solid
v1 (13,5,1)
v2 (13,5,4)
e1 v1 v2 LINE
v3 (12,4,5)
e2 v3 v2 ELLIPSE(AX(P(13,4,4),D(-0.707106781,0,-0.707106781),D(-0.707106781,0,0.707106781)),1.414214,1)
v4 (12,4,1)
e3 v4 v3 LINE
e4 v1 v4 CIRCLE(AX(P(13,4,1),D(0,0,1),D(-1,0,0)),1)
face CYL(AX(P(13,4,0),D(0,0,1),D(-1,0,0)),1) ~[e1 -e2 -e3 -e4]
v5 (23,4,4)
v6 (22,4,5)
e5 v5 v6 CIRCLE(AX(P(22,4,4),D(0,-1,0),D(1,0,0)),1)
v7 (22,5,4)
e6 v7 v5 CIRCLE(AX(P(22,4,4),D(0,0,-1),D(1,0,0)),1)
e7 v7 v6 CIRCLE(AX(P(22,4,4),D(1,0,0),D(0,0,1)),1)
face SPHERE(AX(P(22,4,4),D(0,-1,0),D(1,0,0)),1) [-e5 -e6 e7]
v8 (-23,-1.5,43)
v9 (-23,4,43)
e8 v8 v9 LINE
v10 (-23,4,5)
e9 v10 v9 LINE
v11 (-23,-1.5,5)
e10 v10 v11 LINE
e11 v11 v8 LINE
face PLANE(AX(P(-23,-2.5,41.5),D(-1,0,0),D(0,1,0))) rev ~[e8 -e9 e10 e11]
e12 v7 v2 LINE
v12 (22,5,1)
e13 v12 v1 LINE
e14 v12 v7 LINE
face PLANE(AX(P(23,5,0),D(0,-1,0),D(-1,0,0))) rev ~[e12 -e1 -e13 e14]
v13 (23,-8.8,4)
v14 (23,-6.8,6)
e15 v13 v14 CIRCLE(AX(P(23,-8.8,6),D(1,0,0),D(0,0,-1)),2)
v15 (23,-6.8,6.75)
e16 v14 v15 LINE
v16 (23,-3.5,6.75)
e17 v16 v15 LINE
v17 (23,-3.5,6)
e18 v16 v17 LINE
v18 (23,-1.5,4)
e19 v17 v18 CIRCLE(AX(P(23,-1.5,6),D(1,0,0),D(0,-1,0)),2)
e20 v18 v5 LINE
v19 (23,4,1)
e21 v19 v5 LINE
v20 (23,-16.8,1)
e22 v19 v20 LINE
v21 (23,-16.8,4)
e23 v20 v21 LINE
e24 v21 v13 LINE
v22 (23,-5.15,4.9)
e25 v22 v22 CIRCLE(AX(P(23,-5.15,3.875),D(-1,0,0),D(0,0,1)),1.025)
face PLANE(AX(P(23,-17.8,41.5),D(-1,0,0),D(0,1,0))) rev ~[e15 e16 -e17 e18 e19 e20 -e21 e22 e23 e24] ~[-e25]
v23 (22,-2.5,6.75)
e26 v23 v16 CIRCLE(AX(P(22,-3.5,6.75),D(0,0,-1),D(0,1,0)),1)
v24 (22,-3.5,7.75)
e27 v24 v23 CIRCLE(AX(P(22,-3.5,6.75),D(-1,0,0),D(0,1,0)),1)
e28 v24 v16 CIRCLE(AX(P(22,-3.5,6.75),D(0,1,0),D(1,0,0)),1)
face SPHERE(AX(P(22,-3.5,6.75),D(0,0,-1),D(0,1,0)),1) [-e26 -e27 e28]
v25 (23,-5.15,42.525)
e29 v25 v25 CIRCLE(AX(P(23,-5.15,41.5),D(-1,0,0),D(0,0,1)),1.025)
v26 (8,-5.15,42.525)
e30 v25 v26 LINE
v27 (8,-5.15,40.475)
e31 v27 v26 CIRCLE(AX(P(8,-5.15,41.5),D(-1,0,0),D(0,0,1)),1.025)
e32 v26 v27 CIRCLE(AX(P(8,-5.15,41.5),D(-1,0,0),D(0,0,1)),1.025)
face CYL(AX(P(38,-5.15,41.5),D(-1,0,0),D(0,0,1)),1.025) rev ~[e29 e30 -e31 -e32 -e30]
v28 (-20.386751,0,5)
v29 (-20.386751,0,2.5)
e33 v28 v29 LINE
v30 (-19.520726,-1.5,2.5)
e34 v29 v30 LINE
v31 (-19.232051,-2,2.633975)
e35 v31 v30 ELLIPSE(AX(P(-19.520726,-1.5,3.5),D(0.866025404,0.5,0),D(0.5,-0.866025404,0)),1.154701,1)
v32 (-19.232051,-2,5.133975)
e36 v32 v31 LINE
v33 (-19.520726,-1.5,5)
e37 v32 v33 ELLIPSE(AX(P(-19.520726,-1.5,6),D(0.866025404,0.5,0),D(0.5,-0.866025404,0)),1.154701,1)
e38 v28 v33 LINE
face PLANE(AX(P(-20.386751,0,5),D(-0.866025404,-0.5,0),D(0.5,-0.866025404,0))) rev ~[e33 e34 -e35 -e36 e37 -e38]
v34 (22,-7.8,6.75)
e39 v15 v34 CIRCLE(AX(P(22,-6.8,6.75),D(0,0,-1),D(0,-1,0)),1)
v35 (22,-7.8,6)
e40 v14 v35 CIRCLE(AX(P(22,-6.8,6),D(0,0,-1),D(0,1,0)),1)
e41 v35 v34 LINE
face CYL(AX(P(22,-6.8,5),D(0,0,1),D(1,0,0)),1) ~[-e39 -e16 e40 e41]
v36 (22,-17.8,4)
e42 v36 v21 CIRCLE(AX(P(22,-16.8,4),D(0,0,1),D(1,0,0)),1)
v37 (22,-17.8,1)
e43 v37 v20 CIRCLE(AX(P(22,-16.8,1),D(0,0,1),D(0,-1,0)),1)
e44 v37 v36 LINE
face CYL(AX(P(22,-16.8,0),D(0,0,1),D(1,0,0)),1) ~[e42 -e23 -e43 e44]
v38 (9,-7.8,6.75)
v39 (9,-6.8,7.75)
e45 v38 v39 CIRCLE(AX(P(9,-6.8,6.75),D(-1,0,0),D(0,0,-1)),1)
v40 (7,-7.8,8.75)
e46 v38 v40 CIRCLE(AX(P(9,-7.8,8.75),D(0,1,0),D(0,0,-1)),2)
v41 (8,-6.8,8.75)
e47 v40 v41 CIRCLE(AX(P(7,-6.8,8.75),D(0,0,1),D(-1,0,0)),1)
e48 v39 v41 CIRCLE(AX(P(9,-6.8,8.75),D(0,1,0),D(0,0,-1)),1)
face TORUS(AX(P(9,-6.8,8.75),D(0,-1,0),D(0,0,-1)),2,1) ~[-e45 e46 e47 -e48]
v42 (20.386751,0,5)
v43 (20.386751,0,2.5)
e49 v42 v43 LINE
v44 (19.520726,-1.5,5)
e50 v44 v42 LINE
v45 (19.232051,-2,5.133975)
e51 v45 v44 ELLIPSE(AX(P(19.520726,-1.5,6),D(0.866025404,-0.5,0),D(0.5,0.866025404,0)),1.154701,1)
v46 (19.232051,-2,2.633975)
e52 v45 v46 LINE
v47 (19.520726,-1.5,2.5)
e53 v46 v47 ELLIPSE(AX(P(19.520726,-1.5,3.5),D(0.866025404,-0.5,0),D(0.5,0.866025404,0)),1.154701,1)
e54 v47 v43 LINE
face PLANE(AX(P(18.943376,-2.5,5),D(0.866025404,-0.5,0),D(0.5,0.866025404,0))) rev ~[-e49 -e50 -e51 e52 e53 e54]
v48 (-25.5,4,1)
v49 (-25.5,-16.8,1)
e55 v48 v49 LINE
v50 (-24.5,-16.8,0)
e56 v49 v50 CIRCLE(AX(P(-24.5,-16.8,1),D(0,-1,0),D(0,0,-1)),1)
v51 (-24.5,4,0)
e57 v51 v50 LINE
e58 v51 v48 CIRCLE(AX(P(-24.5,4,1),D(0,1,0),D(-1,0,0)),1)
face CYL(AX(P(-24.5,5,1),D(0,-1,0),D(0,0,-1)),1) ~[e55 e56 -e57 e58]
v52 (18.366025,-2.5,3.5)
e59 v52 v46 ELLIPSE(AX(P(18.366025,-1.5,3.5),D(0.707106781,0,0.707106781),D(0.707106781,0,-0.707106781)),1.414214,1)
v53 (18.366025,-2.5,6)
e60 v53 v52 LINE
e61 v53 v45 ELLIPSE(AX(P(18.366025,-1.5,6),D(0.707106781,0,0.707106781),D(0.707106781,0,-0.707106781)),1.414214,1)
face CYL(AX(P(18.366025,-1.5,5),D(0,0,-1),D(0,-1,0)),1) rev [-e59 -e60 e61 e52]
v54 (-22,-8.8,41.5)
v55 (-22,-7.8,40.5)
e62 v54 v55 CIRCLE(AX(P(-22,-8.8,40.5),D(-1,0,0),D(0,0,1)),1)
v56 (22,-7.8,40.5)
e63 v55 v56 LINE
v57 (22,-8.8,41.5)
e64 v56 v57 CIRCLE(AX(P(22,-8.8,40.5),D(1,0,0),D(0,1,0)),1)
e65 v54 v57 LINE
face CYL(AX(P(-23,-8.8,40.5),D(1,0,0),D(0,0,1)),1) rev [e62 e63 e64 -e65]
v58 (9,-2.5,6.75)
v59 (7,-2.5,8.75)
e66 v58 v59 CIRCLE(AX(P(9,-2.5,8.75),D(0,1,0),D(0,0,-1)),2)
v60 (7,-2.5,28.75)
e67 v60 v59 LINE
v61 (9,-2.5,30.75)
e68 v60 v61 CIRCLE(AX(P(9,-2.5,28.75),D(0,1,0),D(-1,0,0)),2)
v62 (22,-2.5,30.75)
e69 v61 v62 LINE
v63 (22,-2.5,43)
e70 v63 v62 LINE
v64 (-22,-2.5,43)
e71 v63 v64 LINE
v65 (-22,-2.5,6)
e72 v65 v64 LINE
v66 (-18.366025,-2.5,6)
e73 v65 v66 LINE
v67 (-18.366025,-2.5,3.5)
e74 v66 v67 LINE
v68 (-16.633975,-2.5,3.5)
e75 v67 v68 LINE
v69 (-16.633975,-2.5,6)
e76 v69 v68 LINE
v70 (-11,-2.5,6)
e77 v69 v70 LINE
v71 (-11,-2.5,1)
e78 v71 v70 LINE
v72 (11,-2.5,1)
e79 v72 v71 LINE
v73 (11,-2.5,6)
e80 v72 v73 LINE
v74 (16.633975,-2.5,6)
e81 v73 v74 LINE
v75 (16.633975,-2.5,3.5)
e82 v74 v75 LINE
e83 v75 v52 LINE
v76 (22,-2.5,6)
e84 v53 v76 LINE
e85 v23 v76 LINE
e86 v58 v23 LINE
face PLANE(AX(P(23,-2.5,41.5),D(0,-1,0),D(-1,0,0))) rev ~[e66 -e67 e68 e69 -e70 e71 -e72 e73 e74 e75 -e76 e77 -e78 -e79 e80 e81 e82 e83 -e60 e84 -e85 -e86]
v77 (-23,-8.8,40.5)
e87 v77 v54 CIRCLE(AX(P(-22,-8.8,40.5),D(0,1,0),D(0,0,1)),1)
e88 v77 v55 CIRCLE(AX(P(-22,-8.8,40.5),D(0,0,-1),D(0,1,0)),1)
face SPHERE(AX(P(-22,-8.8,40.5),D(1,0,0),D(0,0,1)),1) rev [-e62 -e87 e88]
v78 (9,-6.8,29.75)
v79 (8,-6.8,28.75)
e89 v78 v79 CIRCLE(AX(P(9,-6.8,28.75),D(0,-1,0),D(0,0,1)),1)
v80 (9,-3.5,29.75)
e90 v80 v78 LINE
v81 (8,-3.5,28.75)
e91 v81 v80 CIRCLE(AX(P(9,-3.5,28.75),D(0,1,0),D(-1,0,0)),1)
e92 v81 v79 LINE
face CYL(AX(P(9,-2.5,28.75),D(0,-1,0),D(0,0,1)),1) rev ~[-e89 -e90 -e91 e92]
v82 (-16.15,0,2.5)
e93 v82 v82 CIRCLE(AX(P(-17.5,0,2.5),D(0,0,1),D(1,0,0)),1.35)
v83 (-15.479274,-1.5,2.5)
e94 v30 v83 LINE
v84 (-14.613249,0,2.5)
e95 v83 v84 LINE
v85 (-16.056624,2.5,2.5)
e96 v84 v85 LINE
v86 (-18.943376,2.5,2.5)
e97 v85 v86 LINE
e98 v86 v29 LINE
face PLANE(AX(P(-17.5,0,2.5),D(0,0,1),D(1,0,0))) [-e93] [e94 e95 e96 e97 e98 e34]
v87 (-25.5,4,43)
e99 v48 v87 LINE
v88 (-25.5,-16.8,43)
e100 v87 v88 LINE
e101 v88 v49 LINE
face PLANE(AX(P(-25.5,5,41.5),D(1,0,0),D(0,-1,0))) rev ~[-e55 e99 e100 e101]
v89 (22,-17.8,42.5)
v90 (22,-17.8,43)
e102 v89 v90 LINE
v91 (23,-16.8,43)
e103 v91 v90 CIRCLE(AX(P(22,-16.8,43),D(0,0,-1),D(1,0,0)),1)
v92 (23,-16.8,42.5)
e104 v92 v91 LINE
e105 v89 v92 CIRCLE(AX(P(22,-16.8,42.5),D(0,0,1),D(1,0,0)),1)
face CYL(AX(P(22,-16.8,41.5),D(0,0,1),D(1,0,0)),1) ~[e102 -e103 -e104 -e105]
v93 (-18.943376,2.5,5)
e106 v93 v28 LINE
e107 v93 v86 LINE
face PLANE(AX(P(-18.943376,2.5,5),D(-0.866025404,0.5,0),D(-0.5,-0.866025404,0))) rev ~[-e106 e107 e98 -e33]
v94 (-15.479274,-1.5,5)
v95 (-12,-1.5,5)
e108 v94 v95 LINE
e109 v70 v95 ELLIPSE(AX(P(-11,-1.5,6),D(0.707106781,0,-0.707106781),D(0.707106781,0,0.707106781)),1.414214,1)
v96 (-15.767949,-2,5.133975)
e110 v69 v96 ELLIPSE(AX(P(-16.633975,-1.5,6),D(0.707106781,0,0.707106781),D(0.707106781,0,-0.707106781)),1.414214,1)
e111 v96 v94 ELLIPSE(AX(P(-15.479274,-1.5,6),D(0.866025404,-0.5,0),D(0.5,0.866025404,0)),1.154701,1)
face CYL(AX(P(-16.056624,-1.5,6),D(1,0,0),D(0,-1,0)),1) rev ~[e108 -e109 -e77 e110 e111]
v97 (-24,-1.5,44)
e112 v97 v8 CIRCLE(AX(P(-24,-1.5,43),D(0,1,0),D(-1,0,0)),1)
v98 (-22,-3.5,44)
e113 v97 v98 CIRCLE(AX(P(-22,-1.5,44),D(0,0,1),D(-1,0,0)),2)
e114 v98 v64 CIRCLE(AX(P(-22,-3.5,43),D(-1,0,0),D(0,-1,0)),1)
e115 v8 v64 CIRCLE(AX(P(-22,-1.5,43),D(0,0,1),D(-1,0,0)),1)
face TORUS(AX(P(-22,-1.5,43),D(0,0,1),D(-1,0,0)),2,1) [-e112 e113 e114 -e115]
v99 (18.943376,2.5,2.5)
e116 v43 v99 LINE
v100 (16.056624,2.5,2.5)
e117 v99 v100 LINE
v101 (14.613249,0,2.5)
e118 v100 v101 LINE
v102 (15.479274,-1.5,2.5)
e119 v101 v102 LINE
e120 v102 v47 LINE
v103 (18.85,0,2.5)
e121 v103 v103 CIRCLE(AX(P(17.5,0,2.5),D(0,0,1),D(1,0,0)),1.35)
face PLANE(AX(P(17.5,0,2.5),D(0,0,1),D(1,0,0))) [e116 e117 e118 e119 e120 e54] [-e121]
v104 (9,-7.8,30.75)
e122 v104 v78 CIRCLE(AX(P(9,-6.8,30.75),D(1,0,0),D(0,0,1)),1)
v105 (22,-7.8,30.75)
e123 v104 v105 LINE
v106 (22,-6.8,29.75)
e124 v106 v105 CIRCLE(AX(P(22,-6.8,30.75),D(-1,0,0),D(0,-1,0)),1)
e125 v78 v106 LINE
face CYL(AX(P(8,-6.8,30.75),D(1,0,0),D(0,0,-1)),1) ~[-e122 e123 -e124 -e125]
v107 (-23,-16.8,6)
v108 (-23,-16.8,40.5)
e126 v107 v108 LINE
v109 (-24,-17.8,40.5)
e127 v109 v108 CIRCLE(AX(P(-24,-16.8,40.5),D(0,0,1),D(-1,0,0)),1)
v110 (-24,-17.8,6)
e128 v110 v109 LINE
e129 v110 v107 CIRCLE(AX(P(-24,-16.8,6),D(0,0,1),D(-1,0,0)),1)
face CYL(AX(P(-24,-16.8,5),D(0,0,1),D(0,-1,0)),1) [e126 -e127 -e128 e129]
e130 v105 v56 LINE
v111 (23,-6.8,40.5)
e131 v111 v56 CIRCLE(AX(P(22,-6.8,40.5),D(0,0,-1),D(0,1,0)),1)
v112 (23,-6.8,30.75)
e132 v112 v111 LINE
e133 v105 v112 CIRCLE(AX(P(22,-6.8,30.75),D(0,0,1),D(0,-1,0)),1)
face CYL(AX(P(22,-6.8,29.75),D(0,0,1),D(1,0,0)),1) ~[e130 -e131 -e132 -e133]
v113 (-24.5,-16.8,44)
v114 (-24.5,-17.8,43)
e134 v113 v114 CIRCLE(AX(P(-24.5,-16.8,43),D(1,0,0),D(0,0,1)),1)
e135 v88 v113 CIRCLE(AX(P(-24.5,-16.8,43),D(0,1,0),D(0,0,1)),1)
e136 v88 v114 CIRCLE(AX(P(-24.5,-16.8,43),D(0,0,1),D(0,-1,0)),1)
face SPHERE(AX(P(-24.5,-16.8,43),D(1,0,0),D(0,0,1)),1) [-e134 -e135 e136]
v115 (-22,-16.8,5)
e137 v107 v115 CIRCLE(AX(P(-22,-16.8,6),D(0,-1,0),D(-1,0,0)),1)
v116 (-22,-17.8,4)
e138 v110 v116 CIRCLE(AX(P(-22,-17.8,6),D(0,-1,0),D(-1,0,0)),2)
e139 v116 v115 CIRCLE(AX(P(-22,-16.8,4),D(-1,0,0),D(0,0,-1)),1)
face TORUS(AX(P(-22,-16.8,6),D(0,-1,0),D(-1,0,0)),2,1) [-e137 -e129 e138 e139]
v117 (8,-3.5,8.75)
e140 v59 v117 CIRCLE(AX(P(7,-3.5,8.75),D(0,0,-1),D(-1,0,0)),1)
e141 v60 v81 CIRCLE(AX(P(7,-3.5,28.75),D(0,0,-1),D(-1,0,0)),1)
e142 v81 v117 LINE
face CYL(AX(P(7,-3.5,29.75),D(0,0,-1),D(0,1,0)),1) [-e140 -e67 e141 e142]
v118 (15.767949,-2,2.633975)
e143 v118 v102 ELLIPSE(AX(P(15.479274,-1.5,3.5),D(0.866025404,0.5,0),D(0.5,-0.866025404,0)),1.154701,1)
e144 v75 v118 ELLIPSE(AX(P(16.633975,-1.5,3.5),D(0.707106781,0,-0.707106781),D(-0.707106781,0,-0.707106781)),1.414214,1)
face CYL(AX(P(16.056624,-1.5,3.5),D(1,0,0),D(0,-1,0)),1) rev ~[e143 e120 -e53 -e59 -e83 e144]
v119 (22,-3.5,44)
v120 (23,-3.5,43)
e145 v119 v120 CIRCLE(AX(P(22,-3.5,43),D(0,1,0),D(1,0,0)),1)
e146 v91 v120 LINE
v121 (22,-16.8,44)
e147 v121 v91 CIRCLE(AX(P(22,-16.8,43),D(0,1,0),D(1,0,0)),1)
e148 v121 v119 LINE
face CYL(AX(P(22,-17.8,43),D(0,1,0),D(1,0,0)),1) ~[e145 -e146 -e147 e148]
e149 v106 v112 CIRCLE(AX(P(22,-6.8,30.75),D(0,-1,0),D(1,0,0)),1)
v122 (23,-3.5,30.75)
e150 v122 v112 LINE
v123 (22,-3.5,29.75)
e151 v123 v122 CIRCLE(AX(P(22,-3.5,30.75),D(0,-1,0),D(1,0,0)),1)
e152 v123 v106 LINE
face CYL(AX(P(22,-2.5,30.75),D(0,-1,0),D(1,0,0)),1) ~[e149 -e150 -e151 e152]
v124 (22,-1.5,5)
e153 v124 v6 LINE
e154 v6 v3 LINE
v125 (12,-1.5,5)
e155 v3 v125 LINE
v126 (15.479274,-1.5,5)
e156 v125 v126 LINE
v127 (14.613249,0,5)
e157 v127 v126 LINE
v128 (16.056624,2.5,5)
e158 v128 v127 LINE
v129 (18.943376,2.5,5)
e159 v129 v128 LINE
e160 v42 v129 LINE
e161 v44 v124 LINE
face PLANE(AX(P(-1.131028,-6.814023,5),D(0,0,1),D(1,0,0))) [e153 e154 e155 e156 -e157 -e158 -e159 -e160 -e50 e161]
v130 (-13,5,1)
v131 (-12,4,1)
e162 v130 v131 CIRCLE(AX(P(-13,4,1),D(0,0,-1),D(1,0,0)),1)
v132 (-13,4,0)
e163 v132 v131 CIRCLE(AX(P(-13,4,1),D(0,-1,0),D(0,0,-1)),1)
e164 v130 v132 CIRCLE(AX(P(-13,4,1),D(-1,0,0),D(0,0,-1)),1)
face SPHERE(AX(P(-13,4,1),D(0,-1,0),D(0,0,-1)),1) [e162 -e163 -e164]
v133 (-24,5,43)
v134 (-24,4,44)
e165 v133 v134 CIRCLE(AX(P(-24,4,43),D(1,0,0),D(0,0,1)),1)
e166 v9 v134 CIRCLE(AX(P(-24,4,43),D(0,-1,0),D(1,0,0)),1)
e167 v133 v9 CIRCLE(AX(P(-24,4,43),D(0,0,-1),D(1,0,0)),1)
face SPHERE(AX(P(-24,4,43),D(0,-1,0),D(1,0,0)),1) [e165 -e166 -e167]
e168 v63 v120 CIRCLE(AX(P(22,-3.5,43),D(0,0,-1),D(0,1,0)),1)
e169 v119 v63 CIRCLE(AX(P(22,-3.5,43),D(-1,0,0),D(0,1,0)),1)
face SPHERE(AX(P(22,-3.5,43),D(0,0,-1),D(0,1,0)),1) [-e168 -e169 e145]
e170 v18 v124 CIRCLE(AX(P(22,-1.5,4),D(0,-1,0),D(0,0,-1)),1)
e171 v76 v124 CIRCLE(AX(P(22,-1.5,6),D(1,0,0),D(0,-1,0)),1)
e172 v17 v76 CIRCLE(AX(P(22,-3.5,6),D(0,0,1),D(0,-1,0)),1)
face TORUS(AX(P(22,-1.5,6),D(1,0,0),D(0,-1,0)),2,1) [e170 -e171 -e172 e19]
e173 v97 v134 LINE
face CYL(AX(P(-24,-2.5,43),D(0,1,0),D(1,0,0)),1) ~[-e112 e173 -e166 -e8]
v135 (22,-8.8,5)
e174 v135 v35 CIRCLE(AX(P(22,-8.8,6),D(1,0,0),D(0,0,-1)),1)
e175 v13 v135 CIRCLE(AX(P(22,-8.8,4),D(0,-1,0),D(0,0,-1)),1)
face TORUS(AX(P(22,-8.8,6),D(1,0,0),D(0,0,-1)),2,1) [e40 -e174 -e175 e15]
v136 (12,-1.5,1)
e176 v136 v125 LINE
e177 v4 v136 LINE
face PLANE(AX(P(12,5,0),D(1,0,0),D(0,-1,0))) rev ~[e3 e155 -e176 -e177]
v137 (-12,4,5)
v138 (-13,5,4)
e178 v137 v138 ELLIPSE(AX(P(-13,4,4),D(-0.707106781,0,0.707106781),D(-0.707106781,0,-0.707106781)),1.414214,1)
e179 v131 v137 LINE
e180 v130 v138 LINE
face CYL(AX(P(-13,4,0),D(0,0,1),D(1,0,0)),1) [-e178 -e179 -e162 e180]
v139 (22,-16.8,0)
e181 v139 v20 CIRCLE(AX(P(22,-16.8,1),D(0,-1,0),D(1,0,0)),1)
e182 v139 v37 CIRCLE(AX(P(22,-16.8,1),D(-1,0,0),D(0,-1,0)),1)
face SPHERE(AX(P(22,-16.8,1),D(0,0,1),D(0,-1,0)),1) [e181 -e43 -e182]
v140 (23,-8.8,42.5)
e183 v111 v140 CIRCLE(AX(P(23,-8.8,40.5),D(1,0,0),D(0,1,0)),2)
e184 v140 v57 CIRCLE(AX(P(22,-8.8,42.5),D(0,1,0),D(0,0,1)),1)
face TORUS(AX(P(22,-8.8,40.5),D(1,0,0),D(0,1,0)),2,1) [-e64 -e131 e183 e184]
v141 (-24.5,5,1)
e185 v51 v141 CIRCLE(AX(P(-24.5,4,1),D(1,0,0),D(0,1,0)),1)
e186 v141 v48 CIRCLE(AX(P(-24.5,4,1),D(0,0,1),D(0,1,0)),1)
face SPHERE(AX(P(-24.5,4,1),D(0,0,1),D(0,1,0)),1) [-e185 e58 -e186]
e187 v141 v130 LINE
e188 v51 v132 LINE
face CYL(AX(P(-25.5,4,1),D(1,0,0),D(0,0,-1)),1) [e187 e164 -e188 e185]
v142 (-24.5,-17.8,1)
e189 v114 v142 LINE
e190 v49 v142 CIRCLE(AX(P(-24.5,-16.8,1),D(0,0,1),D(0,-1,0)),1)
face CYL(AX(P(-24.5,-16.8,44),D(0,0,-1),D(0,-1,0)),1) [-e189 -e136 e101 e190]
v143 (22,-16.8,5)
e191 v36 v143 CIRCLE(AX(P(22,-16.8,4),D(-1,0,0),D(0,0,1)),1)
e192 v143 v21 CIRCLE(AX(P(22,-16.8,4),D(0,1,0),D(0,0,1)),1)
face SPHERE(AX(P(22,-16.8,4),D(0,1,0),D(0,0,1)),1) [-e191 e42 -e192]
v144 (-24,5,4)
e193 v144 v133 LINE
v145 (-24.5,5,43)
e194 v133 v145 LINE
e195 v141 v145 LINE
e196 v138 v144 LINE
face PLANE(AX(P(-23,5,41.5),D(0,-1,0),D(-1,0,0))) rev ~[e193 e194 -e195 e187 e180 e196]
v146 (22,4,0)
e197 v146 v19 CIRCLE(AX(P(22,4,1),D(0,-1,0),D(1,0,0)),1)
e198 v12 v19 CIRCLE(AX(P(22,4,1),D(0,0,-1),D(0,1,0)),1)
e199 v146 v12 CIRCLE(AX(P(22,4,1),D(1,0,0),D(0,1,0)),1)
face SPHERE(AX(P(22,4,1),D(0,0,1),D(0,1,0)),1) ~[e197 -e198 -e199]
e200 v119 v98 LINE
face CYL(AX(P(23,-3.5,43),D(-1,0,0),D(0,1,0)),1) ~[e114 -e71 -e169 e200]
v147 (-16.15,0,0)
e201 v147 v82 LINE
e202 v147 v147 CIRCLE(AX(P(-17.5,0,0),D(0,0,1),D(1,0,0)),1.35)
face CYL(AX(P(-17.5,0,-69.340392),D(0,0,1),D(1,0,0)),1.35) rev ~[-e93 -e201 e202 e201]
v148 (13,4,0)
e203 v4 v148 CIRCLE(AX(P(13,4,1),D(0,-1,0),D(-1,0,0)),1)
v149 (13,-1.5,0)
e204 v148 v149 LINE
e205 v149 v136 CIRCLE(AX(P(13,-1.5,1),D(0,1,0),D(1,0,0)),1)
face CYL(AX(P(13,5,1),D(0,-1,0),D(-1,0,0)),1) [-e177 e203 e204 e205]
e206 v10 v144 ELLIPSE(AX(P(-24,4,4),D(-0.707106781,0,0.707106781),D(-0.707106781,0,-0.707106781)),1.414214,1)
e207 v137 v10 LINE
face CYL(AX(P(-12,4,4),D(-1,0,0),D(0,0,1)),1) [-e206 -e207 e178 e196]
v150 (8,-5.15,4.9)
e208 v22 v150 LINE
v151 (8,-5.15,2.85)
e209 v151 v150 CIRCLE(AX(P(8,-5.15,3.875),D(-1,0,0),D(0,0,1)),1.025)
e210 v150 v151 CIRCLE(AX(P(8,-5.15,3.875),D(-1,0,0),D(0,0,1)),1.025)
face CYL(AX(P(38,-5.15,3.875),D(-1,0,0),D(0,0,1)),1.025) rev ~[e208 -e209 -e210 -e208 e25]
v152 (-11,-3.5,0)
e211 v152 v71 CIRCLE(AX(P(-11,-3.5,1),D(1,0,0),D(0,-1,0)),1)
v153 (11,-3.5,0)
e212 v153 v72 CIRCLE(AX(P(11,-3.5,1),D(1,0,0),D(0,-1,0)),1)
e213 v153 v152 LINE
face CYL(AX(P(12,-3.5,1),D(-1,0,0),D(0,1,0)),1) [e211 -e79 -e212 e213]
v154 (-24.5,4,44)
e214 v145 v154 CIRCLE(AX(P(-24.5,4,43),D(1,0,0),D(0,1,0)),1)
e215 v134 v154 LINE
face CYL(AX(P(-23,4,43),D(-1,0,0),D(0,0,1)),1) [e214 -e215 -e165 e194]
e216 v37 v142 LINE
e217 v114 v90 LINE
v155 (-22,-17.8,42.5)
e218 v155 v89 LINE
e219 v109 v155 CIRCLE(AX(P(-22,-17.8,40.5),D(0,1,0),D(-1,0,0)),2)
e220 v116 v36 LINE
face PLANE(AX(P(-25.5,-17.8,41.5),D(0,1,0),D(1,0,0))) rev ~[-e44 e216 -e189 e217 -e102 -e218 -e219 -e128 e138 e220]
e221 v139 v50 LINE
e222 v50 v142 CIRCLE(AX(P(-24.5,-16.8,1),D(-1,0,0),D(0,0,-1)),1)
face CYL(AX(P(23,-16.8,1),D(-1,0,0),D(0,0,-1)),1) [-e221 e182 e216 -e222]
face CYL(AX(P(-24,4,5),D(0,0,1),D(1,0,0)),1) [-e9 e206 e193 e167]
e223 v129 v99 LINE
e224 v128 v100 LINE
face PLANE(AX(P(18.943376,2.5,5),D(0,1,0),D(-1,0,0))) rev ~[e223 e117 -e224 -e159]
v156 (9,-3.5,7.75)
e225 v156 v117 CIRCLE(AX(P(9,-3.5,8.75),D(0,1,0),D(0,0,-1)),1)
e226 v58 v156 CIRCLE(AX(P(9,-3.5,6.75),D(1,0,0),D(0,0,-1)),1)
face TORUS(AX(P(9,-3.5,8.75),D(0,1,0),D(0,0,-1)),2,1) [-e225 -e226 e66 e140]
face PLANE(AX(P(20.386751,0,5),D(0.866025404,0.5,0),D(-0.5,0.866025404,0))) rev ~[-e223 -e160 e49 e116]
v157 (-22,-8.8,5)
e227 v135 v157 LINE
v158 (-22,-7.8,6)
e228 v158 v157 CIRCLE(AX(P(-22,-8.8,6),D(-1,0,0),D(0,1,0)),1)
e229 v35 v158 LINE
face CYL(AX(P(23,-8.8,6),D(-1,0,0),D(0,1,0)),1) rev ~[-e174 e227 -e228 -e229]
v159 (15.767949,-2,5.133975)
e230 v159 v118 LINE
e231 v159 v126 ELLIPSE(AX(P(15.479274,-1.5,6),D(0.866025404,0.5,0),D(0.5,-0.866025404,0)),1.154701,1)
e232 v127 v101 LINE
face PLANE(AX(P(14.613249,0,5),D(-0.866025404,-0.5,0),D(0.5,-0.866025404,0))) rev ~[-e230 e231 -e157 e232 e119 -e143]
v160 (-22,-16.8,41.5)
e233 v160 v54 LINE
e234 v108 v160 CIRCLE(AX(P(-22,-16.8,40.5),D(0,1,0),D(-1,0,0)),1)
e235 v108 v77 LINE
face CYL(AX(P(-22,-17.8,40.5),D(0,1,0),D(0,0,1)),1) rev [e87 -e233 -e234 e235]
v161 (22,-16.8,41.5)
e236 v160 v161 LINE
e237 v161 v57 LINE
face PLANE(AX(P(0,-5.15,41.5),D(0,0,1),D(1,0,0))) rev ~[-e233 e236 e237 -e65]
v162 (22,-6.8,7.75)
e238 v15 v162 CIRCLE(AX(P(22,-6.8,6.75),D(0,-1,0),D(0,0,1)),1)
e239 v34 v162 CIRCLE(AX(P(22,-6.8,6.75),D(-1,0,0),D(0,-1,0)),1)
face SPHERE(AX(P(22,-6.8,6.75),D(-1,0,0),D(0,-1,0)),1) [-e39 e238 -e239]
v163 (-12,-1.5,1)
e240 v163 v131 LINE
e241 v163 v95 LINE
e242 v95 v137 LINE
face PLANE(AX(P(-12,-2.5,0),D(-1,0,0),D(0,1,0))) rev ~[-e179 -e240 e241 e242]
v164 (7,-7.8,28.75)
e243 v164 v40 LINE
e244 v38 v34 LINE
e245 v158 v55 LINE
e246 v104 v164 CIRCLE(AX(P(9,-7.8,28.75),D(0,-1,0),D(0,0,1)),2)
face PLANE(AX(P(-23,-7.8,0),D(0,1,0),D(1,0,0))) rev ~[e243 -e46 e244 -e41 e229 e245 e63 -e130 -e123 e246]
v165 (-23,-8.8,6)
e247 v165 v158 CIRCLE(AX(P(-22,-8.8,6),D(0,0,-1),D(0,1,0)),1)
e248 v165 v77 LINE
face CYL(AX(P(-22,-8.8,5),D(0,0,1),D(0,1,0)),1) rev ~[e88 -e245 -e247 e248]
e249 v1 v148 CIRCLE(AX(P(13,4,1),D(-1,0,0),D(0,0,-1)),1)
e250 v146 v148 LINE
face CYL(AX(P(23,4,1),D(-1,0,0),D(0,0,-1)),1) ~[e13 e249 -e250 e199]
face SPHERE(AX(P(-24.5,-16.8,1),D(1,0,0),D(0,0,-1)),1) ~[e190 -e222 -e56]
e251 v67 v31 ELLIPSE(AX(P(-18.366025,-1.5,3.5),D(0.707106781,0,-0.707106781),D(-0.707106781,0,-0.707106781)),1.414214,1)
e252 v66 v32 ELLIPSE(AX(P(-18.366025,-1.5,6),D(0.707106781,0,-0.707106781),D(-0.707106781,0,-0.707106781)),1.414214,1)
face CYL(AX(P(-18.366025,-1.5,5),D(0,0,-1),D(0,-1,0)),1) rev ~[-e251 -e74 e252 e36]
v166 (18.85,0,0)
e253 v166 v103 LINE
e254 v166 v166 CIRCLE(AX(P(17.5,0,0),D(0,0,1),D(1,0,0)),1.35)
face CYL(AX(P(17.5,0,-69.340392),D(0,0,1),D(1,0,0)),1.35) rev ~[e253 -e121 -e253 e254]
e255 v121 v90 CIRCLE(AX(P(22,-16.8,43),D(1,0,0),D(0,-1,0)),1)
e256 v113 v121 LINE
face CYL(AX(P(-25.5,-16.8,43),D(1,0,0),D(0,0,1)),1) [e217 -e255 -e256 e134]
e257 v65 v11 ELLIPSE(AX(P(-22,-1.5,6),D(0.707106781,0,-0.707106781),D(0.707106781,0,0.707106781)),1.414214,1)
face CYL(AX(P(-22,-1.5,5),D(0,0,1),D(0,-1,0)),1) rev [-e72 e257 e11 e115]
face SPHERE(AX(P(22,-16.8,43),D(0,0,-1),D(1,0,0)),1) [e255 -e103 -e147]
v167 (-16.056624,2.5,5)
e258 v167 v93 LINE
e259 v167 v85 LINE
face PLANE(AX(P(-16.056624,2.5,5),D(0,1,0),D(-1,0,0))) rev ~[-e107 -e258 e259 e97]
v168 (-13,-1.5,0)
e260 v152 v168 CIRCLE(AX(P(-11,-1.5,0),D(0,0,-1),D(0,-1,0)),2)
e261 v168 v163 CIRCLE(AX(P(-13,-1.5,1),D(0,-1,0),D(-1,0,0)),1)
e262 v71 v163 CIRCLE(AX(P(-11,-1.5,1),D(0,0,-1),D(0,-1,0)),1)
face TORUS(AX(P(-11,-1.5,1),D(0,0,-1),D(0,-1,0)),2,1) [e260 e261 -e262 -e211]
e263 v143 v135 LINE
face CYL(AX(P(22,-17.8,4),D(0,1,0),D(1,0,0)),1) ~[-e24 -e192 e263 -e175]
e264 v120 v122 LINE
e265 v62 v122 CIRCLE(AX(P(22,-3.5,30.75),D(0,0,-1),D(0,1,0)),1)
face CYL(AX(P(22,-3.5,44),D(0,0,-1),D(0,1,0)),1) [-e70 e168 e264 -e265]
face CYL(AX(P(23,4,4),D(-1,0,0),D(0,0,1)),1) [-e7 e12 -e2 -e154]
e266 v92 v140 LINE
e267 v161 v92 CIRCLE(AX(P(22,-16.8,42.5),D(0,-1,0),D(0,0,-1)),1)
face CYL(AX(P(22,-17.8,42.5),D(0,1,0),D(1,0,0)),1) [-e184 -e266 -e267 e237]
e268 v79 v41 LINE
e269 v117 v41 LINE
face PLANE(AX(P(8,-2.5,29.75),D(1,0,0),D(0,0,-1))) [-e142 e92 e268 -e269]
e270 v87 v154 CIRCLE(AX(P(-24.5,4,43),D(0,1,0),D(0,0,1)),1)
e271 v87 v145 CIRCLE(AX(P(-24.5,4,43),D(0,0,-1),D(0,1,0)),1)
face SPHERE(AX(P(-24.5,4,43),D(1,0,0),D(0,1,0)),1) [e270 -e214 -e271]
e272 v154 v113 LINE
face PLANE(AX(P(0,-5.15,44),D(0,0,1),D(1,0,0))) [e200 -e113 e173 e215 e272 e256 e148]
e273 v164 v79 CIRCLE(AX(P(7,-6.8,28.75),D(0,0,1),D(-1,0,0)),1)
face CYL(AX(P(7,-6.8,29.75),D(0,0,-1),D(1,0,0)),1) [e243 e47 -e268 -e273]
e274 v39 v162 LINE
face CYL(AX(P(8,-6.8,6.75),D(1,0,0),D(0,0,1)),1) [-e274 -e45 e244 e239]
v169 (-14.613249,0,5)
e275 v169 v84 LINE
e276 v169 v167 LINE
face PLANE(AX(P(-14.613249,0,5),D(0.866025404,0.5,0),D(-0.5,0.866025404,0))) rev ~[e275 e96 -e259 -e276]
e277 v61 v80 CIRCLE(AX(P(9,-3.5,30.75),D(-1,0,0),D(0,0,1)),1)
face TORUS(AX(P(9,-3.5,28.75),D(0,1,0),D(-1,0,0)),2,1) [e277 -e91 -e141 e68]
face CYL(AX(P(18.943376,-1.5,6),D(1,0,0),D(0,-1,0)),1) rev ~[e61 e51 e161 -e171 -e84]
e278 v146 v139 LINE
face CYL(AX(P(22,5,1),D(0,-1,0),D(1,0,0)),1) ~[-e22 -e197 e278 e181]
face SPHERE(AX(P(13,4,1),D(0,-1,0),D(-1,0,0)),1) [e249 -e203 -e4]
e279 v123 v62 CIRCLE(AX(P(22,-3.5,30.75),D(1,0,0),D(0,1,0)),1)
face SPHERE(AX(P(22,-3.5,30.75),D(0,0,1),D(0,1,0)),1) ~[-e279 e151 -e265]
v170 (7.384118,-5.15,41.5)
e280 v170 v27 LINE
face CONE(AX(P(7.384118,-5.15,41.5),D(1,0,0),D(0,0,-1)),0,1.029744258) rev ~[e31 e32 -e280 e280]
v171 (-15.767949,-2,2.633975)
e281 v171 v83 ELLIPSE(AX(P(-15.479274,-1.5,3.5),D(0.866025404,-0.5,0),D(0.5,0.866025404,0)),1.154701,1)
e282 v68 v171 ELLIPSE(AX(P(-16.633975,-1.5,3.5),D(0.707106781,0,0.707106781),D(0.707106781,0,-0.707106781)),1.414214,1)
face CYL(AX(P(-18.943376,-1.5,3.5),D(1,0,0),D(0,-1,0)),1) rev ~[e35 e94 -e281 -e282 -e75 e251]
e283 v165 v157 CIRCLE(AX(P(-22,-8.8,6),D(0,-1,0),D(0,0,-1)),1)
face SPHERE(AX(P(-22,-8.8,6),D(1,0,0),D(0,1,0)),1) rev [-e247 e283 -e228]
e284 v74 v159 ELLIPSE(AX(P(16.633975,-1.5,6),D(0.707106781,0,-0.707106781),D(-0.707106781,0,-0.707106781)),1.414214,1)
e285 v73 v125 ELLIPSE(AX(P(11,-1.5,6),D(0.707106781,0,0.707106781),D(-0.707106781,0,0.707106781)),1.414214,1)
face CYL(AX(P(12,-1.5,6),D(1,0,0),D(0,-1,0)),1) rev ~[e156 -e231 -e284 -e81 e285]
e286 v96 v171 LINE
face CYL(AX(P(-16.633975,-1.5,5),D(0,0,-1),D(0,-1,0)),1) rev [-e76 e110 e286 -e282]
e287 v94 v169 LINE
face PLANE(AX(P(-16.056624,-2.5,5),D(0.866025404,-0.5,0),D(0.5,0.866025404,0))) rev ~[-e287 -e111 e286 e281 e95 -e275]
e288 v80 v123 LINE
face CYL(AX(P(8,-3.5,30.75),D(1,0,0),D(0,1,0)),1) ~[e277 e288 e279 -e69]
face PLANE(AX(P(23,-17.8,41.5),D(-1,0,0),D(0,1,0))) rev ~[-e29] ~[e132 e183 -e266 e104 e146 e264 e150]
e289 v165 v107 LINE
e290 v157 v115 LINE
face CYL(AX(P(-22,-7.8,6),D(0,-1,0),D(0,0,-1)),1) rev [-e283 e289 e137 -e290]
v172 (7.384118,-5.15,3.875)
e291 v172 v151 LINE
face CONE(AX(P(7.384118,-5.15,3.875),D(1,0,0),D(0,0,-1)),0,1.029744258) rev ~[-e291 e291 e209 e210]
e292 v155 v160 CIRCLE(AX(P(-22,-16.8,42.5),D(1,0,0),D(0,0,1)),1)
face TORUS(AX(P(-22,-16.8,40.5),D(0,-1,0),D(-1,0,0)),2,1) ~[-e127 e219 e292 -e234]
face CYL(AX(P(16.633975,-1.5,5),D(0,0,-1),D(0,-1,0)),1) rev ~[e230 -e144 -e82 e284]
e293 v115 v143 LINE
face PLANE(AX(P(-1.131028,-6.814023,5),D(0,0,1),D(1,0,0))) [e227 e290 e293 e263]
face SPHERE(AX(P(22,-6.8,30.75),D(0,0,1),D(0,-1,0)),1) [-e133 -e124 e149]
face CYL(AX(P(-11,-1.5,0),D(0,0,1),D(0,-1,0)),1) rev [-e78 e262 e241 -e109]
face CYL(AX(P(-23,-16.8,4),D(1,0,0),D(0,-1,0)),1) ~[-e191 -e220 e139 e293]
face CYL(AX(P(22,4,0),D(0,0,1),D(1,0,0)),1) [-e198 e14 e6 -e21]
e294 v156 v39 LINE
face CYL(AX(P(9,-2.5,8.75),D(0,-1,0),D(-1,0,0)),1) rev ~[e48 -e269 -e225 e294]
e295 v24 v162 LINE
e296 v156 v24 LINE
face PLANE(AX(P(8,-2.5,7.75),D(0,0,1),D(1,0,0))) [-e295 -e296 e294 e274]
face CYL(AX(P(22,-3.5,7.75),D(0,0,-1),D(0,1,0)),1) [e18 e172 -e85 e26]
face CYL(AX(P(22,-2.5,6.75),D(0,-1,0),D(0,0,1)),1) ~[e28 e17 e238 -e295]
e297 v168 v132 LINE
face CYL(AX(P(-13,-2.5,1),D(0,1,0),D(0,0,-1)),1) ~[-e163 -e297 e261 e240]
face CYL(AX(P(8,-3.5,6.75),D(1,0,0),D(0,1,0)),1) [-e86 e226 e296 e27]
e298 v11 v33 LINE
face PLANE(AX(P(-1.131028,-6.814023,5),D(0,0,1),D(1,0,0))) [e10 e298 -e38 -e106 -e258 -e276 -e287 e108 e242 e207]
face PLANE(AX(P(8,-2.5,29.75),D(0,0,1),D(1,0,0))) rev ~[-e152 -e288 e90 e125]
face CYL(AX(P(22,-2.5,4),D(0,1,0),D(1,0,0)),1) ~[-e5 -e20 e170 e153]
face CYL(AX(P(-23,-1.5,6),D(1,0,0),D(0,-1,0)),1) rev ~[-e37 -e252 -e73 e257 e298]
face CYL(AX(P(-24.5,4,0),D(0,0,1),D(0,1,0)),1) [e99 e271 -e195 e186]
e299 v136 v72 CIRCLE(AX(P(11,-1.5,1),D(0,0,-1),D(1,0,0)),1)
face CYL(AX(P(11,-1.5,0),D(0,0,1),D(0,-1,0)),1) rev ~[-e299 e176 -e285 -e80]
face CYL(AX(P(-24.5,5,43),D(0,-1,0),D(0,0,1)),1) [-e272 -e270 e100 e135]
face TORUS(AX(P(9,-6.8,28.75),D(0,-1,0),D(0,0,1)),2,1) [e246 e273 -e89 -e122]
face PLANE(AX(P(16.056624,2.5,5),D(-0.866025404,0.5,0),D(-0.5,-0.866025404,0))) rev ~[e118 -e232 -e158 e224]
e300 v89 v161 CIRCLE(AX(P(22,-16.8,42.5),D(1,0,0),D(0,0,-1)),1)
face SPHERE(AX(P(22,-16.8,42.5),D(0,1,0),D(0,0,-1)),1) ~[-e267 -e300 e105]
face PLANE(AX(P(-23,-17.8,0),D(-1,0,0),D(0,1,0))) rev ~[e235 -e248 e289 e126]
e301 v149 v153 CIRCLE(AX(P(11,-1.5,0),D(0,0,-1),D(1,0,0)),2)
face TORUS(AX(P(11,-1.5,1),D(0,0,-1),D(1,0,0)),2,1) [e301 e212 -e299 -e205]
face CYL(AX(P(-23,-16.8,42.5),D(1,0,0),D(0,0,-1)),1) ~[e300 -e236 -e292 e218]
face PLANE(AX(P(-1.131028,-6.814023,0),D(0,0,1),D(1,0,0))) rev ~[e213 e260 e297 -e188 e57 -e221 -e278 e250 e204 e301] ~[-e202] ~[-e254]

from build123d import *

# Parameters (mm, degrees)
BOSS_EXTRUDE1_DEPTH          = 5
CUT_EXTRUDE4_START           = 5
CUT_EXTRUDE4_DEPTH           = 2.5
BOSS_EXTRUDE2_DEPTH          = 41.5
BOSS_EXTRUDE3_START          = 41.5
SKETCH16_6_W                 = 46
SKETCH16_6_H                 = 10
BOSS_EXTRUDE3_DEPTH          = 2.5
SKETCH17_W                   = 15
SKETCH17_H                   = 22
CUT_EXTRUDE5_DEPTH           = 16.3
M2_5X0_45_TAPPED_HOLE2_D     = 2.05
M2_5X0_45_TAPPED_HOLE2_DEPTH = 15
M2_5X0_45_TAPPED_HOLE2_TIP   = 0.615882135
FILLET1_R                    = 1
M2_5_CLEARANCE_HOLE1_D       = 2.7


with BuildPart() as part:
    # Sketch16 → Boss-Extrude1 (new body)
    with BuildSketch(Plane.XY):
        Polygon((-12, -2.5), (-12, 5), (-25.5, 5), (-25.5, -17.8), (23, -17.8), (23, 5), (12, 5), (12, -2.5), align=None)
    extrude(amount=BOSS_EXTRUDE1_DEPTH)

    # Sketch16<5> → Cut-Extrude4 (cut)
    with BuildSketch(Plane.XY.offset(CUT_EXTRUDE4_START)):
        Polygon((-16.056624327, -2.5), (-14.613248654, 0), (-16.056624327, 2.5), (-18.943375673, 2.5), (-20.386751346, 0), (-18.943375673, -2.5), align=None)
        Polygon((18.943375673, -2.5), (20.386751346, 0), (18.943375673, 2.5), (16.056624327, 2.5), (14.613248654, 0), (16.056624327, -2.5), align=None)
    extrude(amount=-CUT_EXTRUDE4_DEPTH, mode=Mode.SUBTRACT)

    # Sketch16<4> → Boss-Extrude2 (add)
    with BuildSketch(Plane.XY):
        Polygon((-23, -7.8), (-23, -2.5), (-23, 5), (-25.5, 5), (-25.5, -17.8), (-23, -17.8), align=None)
        Polygon((-12, -2.5), (-16.056624327, -2.5), (-18.943375673, -2.5), (-23, -2.5), (-23, -7.8), (23, -7.8), (23, -2.5), (18.943375673, -2.5), (16.056624327, -2.5), (12, -2.5), align=None)
    extrude(amount=BOSS_EXTRUDE2_DEPTH)

    # Sketch16<6> → Boss-Extrude3 (add)
    with BuildSketch(Plane.XY.offset(BOSS_EXTRUDE3_START)):
        Polygon((-12, -2.5), (-16.056624327, -2.5), (-18.943375673, -2.5), (-23, -2.5), (-23, -7.8), (23, -7.8), (23, -2.5), (18.943375673, -2.5), (16.056624327, -2.5), (12, -2.5), align=None)
        Polygon((-23, -7.8), (-23, -2.5), (-23, 5), (-25.5, 5), (-25.5, -17.8), (-23, -17.8), align=None)
        with Locations((0, -12.8)):
            Rectangle(SKETCH16_6_W, SKETCH16_6_H)
    extrude(amount=BOSS_EXTRUDE3_DEPTH)

    # Sketch17 → Cut-Extrude5 (cut, through all)
    with BuildSketch(Plane(origin=(0, -2.5, 0), x_dir=(1, 0, 0), z_dir=(0, 1, 0))):
        with Locations((15.5, -18.75)):
            Rectangle(SKETCH17_W, SKETCH17_H)
    extrude(amount=-CUT_EXTRUDE5_DEPTH, mode=Mode.SUBTRACT)

    # M2.5x0.45 Tapped Hole2
    with Locations(Plane(origin=(23, 0, 0), x_dir=(0, 0, -1), z_dir=(1, 0, 0))):
        with Locations((-41.5, -5.15), (-3.875, -5.15)):
            Hole(M2_5X0_45_TAPPED_HOLE2_D / 2, depth=M2_5X0_45_TAPPED_HOLE2_DEPTH)
            with Locations((0, 0, -(M2_5X0_45_TAPPED_HOLE2_DEPTH + M2_5X0_45_TAPPED_HOLE2_TIP / 2))):  # 118° drill point
                Cone(0, M2_5X0_45_TAPPED_HOLE2_D / 2, M2_5X0_45_TAPPED_HOLE2_TIP, mode=Mode.SUBTRACT)

    # Fillet1
    fillet1_edges = [part.edges().sort_by_distance(p)[0] for p in [
        (-23, 1.25, 44),
        (-12, 1.25, 0),
        (12, 1.25, 0),
        (23, 1.25, 5),
        (23, -2.5, 36.875),
        (0, -2.5, 44),
        (-23, -2.5, 24.5),
        (-20.971687836, -2.5, 5),
        (-18.943375673, -2.5, 3.75),
        (-17.5, -2.5, 2.5),
        (-16.056624327, -2.5, 3.75),
        (-14.028312164, -2.5, 5),
        (-12, -2.5, 2.5),
        (0, -2.5, 0),
        (12, -2.5, 2.5),
        (14.028312164, -2.5, 5),
        (16.056624327, -2.5, 3.75),
        (17.5, -2.5, 2.5),
        (18.943375673, -2.5, 3.75),
        (20.971687836, -2.5, 5),
        (23, -2.5, 6.375),
        (15.5, -2.5, 7.75),
        (8, -2.5, 18.75),
        (15.5, -2.5, 29.75),
        (23, -12.8, 5),
        (23, -12.8, 41.5),
        (0, -17.8, 5),
        (0, -17.8, 41.5),
        (15.5, -7.8, 7.75),
        (23, -7.8, 6.375),
        (0, -7.8, 5),
        (0, -7.8, 41.5),
        (23, -7.8, 35.625),
        (15.5, -7.8, 29.75),
        (-23, -12.8, 41.5),
        (-23, -7.8, 23.25),
        (-23, -12.8, 5),
        (-23, -17.8, 23.25),
        (8, -7.8, 18.75),
        (8, -5.15, 29.75),
        (8, -5.15, 7.75),
        (23, 5, 2.5),
        (17.5, 5, 5),
        (12, 5, 2.5),
        (17.5, 5, 0),
        (-17.5, 5, 5),
        (-23, 5, 24.5),
        (-24.25, 5, 44),
        (-25.5, 5, 22),
        (-18.75, 5, 0),
        (-12, 5, 2.5),
        (23, -17.8, 42.75),
        (23, -17.8, 2.5),
        (23, -10.15, 44),
        (23, -5.15, 29.75),
        (-1.25, -17.8, 44),
        (-1.25, -17.8, 0),
        (-25.5, -6.4, 0),
        (-25.5, -6.4, 44),
        (23, -6.4, 0),
        (-25.5, -17.8, 22),
        (23, -5.15, 7.75),
    ]]
    fillet(fillet1_edges, radius=FILLET1_R)

    # M2.5 Clearance Hole1 (through all)
    with Locations(Plane(origin=(0, 0, 0), x_dir=(-1, 0, 0), z_dir=(0, 0, -1))):
        with Locations((-17.5, 0), (17.5, 0)):
            Hole(M2_5_CLEARANCE_HOLE1_D / 2)


solid = part.part
